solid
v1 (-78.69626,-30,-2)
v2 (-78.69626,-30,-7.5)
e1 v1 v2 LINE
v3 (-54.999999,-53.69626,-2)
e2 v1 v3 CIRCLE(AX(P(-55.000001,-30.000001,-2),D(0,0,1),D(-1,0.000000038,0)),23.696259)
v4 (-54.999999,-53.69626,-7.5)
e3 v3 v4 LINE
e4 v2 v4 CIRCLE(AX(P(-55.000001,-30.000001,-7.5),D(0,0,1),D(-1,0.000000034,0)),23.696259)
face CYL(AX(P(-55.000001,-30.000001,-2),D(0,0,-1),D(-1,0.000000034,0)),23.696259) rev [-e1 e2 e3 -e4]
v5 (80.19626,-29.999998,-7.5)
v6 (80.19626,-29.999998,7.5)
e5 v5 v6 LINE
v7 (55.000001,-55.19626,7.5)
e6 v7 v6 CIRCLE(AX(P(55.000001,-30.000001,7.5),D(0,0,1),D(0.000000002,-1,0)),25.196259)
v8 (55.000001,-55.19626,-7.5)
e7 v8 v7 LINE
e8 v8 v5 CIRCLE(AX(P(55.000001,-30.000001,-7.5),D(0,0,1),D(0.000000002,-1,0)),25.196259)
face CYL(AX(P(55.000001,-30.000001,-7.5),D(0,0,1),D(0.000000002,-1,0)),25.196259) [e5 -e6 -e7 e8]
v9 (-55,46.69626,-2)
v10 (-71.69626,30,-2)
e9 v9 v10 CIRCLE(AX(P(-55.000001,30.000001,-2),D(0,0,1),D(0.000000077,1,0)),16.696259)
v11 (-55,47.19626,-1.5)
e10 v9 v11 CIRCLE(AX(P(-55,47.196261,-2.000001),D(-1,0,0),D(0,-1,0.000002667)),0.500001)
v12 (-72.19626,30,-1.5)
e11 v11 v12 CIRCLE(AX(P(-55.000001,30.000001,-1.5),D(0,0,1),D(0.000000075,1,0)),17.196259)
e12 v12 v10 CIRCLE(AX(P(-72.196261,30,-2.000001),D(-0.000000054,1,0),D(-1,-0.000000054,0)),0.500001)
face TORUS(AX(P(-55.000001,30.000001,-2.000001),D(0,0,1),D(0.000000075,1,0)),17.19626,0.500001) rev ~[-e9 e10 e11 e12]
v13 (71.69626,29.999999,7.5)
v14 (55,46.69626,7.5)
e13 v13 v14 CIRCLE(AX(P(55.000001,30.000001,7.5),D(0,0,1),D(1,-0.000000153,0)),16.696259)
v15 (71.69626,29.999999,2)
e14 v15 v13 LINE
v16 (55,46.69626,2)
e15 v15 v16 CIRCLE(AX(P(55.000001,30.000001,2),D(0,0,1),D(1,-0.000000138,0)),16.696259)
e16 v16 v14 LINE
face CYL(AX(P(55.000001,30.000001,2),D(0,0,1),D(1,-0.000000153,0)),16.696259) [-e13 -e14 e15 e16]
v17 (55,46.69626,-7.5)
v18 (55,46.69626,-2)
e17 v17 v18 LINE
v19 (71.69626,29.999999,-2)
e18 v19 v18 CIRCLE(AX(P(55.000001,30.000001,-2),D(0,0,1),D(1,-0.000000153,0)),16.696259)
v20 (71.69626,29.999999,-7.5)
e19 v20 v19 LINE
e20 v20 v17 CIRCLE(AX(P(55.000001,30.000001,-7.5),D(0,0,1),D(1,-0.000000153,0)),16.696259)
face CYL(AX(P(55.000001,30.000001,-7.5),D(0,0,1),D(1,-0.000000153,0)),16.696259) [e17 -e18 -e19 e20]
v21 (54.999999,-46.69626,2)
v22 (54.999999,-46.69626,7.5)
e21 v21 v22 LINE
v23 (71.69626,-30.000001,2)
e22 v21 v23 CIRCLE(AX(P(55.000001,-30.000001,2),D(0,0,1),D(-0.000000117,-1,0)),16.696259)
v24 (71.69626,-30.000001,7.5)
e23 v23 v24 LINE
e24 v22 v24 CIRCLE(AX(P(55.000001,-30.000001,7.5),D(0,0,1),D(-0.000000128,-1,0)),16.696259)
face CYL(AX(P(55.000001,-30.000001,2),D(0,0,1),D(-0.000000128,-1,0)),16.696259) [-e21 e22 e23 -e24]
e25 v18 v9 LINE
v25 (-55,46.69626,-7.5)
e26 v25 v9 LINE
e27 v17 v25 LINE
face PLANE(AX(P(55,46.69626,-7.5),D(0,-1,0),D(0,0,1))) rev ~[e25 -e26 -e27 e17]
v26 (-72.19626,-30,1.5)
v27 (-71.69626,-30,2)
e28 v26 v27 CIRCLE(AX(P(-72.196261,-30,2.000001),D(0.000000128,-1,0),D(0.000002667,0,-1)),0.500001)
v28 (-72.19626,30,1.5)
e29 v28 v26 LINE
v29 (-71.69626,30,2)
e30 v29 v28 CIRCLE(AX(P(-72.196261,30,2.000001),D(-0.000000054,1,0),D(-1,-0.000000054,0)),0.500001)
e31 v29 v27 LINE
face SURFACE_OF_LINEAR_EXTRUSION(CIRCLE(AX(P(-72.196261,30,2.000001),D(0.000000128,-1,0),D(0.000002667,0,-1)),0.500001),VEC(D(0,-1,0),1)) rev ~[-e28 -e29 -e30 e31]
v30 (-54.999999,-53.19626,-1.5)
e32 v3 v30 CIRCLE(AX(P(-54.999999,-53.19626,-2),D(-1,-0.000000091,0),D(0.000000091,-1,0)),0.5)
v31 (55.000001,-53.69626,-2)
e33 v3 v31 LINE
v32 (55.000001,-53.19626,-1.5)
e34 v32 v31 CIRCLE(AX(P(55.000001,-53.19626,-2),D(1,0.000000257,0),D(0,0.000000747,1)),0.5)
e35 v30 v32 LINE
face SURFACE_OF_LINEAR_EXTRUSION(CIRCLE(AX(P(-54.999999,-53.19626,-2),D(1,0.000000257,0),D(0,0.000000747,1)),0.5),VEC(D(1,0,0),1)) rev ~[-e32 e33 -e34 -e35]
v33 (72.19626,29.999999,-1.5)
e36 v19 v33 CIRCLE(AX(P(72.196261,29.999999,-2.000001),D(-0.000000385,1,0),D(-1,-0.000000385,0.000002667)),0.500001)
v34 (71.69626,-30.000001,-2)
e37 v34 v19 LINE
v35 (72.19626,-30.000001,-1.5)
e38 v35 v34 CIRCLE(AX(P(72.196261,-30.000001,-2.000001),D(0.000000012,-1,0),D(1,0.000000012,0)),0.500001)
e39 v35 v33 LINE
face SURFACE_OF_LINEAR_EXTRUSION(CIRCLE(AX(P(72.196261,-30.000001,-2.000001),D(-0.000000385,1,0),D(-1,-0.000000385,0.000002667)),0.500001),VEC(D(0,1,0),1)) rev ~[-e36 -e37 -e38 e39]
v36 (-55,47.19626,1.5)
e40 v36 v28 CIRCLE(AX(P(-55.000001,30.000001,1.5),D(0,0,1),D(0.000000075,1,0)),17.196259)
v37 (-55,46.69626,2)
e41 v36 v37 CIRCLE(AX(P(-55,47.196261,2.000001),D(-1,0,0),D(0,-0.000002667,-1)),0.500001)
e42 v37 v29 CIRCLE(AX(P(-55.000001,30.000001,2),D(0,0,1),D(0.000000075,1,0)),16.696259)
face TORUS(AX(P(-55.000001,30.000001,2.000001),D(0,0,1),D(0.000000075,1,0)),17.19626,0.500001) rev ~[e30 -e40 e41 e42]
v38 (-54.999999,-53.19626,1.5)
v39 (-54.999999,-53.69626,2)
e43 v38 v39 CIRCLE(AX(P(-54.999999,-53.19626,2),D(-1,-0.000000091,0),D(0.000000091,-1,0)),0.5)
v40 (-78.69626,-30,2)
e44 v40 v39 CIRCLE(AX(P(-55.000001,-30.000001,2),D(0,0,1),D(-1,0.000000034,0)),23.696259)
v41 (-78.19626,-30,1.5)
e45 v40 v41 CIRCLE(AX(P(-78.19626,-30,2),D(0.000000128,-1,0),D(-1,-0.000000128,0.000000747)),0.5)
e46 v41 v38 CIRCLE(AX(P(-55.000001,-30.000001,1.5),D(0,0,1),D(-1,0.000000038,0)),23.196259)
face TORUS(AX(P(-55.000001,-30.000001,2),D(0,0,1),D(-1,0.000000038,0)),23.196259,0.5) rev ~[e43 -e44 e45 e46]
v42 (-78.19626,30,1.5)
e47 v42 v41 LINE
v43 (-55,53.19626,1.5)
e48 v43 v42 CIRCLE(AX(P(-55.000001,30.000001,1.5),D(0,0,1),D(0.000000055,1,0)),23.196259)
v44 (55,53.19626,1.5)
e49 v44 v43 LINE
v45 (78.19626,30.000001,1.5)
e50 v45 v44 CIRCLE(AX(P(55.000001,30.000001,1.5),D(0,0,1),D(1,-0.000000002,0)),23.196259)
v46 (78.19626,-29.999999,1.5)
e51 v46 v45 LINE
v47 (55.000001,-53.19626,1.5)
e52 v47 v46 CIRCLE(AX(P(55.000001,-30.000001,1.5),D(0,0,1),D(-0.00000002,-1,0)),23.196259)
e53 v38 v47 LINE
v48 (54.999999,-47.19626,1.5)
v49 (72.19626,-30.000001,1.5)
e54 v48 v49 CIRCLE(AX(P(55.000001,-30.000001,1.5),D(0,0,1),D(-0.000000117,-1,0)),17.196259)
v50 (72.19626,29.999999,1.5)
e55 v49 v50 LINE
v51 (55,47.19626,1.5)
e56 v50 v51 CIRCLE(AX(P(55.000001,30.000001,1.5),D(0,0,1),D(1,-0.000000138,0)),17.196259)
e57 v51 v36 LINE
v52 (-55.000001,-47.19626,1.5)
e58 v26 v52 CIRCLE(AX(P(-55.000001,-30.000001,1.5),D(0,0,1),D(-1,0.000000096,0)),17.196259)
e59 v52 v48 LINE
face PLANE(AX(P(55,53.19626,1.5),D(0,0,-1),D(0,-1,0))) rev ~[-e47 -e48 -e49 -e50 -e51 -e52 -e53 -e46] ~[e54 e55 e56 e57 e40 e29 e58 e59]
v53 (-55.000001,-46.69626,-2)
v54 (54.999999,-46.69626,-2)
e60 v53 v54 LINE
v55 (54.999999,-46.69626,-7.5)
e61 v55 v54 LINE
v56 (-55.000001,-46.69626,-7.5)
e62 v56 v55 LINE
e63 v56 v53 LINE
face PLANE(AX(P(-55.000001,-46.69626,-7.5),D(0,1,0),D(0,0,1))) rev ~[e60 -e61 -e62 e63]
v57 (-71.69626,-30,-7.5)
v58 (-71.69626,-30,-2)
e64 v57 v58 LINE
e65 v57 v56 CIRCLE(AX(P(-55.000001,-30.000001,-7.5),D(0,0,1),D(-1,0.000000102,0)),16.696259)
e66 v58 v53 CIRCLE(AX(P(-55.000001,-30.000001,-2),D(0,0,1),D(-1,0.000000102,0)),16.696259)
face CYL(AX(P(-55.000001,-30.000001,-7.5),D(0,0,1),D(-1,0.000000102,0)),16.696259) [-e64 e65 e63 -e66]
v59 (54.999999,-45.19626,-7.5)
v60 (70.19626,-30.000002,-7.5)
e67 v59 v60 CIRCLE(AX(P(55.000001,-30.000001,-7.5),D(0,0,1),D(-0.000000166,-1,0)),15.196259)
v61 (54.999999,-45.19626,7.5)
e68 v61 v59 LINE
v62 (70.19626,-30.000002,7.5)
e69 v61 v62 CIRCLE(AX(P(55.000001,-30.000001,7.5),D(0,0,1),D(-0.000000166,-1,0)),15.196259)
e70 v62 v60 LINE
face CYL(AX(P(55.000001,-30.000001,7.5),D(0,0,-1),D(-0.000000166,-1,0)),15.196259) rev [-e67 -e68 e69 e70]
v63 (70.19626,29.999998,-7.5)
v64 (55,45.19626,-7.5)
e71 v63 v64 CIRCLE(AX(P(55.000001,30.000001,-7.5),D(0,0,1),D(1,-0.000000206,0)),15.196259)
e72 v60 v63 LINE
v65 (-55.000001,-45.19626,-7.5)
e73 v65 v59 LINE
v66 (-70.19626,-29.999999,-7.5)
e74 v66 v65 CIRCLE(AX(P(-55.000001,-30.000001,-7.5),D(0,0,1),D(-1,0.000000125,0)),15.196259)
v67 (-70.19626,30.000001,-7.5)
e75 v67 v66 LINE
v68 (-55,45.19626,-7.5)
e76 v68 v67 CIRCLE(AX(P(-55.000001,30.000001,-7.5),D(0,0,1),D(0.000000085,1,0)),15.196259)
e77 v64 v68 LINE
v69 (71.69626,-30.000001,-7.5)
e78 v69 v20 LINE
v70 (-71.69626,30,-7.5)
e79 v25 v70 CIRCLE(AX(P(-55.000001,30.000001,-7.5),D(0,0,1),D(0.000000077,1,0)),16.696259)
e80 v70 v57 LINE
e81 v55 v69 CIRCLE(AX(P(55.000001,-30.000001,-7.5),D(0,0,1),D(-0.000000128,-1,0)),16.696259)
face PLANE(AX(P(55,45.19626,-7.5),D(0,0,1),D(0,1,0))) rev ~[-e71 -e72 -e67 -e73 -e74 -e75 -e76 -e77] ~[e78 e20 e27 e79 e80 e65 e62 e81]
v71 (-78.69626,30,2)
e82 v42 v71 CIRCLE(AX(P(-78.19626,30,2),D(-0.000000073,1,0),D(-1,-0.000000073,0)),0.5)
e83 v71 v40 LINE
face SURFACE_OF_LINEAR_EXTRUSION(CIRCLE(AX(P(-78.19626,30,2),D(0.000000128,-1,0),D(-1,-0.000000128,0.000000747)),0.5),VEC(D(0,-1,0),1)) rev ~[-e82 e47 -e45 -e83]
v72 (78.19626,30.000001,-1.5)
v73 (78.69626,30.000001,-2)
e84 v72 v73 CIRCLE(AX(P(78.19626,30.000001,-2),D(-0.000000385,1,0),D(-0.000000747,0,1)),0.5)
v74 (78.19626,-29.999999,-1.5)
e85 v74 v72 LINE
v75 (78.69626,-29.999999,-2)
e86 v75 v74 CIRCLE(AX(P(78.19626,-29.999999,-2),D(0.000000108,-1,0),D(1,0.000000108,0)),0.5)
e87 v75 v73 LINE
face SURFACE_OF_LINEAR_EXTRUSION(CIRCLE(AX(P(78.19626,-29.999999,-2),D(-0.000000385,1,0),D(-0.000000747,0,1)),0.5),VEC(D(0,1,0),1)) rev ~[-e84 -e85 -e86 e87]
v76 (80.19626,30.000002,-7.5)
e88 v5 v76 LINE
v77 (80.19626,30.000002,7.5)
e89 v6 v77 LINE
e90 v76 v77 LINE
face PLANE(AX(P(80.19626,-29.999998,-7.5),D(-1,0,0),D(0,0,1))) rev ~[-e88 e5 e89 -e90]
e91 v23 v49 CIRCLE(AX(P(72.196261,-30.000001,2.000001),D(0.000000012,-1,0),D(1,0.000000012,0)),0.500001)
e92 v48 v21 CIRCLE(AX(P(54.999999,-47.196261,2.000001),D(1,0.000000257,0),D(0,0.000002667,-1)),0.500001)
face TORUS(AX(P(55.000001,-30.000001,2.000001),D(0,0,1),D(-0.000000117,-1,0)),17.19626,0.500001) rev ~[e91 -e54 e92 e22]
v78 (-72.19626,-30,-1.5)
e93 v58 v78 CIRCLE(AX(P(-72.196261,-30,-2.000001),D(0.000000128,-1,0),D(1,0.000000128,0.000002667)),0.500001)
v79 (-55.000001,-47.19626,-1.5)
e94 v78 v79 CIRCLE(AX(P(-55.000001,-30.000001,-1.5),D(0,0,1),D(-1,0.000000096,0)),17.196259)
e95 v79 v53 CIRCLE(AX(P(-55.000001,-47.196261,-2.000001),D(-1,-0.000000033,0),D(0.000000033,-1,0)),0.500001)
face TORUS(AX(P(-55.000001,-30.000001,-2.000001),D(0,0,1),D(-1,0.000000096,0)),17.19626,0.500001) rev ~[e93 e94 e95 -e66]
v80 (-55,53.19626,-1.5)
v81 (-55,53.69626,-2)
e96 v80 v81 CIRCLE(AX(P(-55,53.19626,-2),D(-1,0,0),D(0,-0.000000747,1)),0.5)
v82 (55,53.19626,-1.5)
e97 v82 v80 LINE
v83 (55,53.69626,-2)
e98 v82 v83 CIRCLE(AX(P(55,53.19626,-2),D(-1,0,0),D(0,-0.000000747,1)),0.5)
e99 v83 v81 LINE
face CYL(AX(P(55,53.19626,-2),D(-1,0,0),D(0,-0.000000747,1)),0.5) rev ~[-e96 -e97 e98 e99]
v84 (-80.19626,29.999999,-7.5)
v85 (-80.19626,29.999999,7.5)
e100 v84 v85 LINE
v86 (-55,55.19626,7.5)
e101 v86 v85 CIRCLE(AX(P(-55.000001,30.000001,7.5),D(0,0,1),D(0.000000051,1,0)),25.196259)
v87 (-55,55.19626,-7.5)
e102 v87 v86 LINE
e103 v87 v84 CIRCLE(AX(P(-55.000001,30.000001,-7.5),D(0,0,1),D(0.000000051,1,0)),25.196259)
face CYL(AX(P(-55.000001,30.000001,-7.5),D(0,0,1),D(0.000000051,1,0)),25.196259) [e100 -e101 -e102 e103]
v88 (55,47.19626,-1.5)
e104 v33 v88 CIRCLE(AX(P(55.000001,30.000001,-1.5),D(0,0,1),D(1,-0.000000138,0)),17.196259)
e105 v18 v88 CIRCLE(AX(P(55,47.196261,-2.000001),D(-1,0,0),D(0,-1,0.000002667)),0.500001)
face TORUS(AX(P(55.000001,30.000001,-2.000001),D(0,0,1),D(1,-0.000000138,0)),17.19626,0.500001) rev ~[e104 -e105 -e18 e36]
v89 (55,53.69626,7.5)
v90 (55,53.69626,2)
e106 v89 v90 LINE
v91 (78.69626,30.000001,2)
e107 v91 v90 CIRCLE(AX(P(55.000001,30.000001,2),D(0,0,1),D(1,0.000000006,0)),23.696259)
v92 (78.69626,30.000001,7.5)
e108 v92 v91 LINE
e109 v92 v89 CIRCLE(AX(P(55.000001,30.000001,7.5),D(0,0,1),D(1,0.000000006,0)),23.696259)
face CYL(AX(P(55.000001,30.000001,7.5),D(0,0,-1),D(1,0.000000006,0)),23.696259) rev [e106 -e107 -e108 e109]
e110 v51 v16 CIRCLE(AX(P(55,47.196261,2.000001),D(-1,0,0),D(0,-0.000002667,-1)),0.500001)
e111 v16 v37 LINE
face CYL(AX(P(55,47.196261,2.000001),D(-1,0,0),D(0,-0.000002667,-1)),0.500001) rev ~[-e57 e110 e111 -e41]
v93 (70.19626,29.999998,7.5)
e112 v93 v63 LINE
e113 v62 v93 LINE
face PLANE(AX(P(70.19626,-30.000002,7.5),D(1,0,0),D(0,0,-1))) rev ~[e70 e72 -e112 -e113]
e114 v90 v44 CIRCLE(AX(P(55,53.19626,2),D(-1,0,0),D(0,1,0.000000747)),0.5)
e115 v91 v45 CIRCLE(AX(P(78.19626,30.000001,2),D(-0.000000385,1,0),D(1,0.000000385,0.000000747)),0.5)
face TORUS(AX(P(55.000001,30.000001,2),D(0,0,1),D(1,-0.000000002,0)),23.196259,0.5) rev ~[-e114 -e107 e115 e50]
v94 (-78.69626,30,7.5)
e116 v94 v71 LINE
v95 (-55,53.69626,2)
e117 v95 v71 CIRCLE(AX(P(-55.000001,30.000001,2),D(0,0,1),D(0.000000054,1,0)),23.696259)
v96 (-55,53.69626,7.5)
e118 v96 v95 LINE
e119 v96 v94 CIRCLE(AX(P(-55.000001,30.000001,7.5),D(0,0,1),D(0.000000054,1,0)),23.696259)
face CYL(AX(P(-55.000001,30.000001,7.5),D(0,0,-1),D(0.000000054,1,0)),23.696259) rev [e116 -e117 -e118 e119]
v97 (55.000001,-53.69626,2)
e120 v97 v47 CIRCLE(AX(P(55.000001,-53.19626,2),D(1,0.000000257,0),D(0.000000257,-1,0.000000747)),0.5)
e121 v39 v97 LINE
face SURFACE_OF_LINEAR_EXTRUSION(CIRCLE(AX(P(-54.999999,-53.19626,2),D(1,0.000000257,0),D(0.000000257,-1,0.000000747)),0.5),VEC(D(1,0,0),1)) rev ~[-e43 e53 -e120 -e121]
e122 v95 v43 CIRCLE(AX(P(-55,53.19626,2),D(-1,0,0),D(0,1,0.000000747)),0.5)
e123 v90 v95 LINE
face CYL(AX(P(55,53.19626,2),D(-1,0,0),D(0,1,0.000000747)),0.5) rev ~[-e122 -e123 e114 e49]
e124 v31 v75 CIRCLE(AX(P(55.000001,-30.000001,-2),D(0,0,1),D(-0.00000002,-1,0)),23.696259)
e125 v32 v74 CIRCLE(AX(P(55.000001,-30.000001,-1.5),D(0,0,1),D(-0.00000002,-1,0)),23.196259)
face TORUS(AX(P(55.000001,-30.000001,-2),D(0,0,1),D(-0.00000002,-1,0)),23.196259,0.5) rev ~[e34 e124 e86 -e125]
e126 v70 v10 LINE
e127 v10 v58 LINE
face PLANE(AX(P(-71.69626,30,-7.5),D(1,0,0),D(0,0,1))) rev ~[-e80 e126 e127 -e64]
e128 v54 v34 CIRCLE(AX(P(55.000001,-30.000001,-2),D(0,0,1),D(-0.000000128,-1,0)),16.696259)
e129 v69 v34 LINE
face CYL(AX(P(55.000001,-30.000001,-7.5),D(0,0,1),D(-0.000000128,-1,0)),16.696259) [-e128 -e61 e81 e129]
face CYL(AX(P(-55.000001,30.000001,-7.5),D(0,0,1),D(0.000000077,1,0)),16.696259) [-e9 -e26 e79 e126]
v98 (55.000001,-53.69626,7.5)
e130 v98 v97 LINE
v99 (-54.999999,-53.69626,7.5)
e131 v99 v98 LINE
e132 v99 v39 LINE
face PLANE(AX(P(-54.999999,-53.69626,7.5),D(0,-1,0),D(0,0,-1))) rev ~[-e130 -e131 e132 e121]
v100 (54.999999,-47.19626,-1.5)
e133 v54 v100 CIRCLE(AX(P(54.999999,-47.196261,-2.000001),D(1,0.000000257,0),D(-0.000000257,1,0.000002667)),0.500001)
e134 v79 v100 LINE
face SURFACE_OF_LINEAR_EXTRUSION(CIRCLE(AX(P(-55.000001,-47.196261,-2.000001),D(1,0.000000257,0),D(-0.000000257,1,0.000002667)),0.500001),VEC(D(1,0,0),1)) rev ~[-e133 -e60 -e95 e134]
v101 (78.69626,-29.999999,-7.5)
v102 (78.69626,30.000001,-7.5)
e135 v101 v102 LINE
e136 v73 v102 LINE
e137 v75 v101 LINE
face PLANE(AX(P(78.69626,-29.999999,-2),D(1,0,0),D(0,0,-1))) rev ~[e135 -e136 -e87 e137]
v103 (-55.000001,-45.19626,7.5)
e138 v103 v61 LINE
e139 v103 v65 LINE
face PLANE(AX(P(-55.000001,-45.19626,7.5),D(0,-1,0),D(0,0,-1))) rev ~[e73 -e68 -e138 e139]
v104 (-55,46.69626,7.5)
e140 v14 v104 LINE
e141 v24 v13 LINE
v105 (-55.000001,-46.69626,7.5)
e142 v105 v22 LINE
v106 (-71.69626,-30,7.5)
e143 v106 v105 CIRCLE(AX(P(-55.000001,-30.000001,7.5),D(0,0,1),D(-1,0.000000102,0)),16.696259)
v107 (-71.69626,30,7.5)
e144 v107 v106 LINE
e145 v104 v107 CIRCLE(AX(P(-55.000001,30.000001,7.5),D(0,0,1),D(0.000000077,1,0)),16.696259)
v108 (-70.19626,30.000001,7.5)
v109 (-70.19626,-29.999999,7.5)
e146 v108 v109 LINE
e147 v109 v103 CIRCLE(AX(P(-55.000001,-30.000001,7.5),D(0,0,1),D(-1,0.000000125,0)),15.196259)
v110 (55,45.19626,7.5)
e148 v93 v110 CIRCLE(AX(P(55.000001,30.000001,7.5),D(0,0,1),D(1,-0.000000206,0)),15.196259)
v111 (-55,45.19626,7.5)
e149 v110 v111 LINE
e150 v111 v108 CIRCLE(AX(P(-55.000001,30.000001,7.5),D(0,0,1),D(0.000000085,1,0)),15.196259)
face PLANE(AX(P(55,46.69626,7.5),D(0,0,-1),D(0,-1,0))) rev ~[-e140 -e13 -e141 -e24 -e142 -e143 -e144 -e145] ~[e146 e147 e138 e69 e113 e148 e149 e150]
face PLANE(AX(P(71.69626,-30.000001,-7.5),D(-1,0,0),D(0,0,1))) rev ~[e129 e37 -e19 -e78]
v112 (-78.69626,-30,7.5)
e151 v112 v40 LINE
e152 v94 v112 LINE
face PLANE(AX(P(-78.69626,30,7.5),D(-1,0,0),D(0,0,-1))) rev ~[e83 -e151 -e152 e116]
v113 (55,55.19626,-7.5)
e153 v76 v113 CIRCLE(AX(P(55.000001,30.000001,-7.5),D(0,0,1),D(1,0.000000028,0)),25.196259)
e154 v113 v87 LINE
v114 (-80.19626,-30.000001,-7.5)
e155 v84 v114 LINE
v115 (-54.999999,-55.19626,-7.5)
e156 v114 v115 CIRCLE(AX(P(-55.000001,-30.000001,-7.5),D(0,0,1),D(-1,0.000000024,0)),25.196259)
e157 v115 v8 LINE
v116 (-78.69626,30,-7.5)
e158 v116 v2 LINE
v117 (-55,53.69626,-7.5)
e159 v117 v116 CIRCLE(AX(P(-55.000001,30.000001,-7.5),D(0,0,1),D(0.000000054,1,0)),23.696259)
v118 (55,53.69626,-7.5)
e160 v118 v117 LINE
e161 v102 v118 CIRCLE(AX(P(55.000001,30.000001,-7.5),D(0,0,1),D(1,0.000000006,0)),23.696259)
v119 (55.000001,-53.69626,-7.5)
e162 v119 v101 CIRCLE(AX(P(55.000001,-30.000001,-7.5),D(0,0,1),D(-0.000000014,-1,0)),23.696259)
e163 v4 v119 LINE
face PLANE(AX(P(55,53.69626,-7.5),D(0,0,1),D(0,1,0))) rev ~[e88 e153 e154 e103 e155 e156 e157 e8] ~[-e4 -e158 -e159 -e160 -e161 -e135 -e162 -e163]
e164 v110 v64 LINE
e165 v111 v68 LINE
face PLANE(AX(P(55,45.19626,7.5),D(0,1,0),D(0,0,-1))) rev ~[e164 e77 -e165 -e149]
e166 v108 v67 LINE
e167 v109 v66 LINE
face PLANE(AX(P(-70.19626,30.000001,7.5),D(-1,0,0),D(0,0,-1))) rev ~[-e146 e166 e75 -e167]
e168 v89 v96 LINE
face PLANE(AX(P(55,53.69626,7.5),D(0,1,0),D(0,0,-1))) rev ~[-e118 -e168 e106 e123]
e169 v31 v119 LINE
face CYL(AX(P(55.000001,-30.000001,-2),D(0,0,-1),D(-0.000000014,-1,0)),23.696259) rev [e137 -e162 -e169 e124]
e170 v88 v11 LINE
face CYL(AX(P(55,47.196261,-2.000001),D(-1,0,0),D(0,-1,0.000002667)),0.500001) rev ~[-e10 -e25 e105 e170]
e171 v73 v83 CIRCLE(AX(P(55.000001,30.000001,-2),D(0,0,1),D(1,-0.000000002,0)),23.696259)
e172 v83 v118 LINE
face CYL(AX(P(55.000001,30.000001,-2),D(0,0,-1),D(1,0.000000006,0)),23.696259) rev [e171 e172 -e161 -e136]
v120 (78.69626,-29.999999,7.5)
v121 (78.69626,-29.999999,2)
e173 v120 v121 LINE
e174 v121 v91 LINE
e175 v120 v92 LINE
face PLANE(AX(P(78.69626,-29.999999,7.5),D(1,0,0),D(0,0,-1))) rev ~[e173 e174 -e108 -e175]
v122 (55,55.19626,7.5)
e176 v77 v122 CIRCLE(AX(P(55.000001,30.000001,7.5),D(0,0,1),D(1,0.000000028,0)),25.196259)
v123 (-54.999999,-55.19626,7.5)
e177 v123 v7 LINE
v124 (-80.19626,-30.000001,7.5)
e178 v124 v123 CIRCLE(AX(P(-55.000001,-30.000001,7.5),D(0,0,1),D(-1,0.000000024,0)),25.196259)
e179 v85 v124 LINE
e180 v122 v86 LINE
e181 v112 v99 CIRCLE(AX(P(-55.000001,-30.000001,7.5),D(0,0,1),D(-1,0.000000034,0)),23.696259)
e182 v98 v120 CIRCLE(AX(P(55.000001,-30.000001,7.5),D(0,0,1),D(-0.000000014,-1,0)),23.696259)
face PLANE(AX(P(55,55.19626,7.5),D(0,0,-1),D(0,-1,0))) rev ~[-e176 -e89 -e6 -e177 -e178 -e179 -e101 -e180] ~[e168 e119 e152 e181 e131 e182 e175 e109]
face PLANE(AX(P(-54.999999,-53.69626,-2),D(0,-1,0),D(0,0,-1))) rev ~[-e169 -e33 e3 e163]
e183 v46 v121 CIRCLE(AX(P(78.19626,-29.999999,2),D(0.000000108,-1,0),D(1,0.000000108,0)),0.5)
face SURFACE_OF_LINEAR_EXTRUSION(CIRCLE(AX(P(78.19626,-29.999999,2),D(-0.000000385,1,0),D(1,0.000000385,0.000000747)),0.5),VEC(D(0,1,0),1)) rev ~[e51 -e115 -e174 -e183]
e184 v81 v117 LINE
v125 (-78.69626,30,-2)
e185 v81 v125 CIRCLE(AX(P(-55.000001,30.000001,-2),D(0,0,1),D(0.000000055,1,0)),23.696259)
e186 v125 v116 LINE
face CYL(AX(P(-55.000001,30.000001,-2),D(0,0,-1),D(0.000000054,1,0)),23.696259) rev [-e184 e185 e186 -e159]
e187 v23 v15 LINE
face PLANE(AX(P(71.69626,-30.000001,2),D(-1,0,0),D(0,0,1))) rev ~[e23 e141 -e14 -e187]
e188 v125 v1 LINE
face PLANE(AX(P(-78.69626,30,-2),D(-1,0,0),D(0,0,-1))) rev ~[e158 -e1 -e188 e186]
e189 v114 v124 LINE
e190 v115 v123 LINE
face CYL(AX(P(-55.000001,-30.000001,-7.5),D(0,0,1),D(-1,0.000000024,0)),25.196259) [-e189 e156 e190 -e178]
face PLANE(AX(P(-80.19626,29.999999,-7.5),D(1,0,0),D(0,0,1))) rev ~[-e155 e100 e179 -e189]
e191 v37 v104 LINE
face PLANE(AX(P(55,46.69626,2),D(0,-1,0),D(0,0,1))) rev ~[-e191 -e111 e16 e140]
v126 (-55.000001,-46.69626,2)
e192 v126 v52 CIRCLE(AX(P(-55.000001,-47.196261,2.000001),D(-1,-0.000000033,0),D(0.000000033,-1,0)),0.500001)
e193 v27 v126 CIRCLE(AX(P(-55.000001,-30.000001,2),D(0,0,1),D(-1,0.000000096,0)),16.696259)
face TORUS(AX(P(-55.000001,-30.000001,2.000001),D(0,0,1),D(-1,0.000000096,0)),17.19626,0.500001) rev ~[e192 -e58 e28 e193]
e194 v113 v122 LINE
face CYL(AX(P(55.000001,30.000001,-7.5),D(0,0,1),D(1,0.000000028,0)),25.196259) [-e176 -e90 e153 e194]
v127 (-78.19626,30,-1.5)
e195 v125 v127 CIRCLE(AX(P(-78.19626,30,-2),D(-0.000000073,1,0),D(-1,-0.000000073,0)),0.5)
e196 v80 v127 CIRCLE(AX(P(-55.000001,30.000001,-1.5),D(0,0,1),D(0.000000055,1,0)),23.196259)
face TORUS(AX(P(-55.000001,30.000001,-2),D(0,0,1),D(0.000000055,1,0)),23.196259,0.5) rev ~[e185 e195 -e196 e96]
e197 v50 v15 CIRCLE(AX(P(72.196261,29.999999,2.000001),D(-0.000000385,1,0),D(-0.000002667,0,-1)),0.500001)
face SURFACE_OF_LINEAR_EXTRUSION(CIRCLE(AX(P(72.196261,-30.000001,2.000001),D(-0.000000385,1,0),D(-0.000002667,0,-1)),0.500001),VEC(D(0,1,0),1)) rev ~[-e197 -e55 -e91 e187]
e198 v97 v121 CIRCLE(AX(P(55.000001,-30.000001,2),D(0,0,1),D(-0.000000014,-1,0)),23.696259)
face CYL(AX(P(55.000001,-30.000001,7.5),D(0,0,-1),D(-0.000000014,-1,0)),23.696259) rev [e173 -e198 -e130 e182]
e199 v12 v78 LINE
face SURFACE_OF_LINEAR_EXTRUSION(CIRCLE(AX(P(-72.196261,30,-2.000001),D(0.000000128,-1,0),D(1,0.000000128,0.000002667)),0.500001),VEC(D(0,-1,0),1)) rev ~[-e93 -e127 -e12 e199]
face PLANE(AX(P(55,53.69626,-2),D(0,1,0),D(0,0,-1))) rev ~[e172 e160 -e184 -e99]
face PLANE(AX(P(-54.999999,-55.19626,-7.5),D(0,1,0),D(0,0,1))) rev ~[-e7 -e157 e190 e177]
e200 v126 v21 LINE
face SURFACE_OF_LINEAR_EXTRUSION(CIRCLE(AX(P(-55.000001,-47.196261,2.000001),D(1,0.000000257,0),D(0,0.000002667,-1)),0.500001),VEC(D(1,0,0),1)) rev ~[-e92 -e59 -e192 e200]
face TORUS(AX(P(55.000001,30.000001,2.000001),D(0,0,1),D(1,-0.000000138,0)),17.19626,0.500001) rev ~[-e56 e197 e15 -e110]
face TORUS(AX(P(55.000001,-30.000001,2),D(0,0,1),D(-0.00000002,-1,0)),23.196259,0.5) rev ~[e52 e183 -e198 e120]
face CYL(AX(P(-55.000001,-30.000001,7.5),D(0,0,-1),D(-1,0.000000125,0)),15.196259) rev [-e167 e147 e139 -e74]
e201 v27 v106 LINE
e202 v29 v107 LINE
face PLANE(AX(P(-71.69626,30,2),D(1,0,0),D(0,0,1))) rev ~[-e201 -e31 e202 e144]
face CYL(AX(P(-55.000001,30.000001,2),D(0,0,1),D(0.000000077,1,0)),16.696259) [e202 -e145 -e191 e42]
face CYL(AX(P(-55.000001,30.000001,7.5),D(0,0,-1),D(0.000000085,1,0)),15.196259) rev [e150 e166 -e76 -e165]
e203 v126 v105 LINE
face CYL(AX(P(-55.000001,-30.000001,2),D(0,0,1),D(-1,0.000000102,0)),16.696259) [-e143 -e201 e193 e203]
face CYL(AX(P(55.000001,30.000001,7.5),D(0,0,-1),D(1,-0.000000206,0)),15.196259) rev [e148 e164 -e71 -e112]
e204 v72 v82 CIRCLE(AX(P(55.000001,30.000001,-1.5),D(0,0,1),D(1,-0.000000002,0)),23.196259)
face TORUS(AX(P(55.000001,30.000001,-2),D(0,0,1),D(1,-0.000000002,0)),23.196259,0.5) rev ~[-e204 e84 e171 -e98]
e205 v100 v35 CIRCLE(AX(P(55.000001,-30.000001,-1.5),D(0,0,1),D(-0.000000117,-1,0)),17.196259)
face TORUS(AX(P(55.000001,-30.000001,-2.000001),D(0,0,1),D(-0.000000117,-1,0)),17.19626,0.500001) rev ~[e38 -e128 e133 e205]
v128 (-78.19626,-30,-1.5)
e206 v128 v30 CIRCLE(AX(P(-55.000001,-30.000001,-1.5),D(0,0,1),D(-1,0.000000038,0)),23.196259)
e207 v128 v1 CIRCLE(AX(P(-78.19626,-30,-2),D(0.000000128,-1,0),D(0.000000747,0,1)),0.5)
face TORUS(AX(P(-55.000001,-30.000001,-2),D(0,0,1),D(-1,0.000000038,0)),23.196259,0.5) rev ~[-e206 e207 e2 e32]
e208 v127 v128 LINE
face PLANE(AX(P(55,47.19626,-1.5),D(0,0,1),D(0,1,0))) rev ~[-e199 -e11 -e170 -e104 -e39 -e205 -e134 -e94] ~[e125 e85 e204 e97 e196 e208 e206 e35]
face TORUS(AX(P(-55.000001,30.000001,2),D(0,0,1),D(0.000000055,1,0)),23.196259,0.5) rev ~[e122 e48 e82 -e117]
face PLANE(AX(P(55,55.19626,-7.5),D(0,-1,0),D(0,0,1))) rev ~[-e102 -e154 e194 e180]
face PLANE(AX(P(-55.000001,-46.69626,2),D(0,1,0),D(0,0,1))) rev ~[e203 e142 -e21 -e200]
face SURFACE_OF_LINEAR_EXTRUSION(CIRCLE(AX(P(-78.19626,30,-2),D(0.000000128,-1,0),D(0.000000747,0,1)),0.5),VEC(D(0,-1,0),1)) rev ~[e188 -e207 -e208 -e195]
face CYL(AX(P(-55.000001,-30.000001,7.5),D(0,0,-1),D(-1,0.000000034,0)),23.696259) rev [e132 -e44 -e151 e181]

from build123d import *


with BuildPart() as f2:
    # F2: sweep along a path in F0
    with BuildLine(Plane.XY) as f2_path:
        Line((55, 50), (-55, 50))
        ThreePointArc((-55, 50), (-69.142136, 44.142136), (-75, 30))
        Line((-75, 30), (-75, -30))
        ThreePointArc((-75, -30), (-69.142136, -44.142136), (-55, -50))
        Line((-55, -50), (55, -50))
        ThreePointArc((55, -50), (69.142136, -44.142136), (75, -30))
        Line((75, -30), (75, 30))
        ThreePointArc((75, 30), (69.142136, 44.142136), (55, 50))
    # F1 (on Right) → F2 (sweep)
    with BuildSketch(Plane.YZ):
        with BuildLine():
            Line((55.19626, 0), (55.19626, 7.5))
            Line((55.19626, 7.5), (53.69626, 7.5))
            Line((53.69626, 7.5), (53.69626, 2))
            ThreePointArc((53.69626, 2), (53.549814, 1.646447), (53.19626, 1.5))
            Line((53.19626, 1.5), (47.19626, 1.5))
            ThreePointArc((47.19626, 1.5), (46.842707, 1.646447), (46.69626, 2))
            Line((46.69626, 2), (46.69626, 7.5))
            Line((46.69626, 7.5), (45.19626, 7.5))
            Line((45.19626, 7.5), (45.19626, -7.5))
            Line((45.19626, -7.5), (46.69626, -7.5))
            Line((46.69626, -7.5), (46.69626, -2))
            ThreePointArc((46.69626, -2), (46.842707, -1.646447), (47.19626, -1.5))
            Line((47.19626, -1.5), (53.19626, -1.5))
            ThreePointArc((53.19626, -1.5), (53.549814, -1.646447), (53.69626, -2))
            Line((53.69626, -2), (53.69626, -7.5))
            Line((53.69626, -7.5), (55.19626, -7.5))
            Line((55.19626, -7.5), (55.19626, 0))
        make_face()
    sweep(path=f2_path.line)


solid = f2.part
